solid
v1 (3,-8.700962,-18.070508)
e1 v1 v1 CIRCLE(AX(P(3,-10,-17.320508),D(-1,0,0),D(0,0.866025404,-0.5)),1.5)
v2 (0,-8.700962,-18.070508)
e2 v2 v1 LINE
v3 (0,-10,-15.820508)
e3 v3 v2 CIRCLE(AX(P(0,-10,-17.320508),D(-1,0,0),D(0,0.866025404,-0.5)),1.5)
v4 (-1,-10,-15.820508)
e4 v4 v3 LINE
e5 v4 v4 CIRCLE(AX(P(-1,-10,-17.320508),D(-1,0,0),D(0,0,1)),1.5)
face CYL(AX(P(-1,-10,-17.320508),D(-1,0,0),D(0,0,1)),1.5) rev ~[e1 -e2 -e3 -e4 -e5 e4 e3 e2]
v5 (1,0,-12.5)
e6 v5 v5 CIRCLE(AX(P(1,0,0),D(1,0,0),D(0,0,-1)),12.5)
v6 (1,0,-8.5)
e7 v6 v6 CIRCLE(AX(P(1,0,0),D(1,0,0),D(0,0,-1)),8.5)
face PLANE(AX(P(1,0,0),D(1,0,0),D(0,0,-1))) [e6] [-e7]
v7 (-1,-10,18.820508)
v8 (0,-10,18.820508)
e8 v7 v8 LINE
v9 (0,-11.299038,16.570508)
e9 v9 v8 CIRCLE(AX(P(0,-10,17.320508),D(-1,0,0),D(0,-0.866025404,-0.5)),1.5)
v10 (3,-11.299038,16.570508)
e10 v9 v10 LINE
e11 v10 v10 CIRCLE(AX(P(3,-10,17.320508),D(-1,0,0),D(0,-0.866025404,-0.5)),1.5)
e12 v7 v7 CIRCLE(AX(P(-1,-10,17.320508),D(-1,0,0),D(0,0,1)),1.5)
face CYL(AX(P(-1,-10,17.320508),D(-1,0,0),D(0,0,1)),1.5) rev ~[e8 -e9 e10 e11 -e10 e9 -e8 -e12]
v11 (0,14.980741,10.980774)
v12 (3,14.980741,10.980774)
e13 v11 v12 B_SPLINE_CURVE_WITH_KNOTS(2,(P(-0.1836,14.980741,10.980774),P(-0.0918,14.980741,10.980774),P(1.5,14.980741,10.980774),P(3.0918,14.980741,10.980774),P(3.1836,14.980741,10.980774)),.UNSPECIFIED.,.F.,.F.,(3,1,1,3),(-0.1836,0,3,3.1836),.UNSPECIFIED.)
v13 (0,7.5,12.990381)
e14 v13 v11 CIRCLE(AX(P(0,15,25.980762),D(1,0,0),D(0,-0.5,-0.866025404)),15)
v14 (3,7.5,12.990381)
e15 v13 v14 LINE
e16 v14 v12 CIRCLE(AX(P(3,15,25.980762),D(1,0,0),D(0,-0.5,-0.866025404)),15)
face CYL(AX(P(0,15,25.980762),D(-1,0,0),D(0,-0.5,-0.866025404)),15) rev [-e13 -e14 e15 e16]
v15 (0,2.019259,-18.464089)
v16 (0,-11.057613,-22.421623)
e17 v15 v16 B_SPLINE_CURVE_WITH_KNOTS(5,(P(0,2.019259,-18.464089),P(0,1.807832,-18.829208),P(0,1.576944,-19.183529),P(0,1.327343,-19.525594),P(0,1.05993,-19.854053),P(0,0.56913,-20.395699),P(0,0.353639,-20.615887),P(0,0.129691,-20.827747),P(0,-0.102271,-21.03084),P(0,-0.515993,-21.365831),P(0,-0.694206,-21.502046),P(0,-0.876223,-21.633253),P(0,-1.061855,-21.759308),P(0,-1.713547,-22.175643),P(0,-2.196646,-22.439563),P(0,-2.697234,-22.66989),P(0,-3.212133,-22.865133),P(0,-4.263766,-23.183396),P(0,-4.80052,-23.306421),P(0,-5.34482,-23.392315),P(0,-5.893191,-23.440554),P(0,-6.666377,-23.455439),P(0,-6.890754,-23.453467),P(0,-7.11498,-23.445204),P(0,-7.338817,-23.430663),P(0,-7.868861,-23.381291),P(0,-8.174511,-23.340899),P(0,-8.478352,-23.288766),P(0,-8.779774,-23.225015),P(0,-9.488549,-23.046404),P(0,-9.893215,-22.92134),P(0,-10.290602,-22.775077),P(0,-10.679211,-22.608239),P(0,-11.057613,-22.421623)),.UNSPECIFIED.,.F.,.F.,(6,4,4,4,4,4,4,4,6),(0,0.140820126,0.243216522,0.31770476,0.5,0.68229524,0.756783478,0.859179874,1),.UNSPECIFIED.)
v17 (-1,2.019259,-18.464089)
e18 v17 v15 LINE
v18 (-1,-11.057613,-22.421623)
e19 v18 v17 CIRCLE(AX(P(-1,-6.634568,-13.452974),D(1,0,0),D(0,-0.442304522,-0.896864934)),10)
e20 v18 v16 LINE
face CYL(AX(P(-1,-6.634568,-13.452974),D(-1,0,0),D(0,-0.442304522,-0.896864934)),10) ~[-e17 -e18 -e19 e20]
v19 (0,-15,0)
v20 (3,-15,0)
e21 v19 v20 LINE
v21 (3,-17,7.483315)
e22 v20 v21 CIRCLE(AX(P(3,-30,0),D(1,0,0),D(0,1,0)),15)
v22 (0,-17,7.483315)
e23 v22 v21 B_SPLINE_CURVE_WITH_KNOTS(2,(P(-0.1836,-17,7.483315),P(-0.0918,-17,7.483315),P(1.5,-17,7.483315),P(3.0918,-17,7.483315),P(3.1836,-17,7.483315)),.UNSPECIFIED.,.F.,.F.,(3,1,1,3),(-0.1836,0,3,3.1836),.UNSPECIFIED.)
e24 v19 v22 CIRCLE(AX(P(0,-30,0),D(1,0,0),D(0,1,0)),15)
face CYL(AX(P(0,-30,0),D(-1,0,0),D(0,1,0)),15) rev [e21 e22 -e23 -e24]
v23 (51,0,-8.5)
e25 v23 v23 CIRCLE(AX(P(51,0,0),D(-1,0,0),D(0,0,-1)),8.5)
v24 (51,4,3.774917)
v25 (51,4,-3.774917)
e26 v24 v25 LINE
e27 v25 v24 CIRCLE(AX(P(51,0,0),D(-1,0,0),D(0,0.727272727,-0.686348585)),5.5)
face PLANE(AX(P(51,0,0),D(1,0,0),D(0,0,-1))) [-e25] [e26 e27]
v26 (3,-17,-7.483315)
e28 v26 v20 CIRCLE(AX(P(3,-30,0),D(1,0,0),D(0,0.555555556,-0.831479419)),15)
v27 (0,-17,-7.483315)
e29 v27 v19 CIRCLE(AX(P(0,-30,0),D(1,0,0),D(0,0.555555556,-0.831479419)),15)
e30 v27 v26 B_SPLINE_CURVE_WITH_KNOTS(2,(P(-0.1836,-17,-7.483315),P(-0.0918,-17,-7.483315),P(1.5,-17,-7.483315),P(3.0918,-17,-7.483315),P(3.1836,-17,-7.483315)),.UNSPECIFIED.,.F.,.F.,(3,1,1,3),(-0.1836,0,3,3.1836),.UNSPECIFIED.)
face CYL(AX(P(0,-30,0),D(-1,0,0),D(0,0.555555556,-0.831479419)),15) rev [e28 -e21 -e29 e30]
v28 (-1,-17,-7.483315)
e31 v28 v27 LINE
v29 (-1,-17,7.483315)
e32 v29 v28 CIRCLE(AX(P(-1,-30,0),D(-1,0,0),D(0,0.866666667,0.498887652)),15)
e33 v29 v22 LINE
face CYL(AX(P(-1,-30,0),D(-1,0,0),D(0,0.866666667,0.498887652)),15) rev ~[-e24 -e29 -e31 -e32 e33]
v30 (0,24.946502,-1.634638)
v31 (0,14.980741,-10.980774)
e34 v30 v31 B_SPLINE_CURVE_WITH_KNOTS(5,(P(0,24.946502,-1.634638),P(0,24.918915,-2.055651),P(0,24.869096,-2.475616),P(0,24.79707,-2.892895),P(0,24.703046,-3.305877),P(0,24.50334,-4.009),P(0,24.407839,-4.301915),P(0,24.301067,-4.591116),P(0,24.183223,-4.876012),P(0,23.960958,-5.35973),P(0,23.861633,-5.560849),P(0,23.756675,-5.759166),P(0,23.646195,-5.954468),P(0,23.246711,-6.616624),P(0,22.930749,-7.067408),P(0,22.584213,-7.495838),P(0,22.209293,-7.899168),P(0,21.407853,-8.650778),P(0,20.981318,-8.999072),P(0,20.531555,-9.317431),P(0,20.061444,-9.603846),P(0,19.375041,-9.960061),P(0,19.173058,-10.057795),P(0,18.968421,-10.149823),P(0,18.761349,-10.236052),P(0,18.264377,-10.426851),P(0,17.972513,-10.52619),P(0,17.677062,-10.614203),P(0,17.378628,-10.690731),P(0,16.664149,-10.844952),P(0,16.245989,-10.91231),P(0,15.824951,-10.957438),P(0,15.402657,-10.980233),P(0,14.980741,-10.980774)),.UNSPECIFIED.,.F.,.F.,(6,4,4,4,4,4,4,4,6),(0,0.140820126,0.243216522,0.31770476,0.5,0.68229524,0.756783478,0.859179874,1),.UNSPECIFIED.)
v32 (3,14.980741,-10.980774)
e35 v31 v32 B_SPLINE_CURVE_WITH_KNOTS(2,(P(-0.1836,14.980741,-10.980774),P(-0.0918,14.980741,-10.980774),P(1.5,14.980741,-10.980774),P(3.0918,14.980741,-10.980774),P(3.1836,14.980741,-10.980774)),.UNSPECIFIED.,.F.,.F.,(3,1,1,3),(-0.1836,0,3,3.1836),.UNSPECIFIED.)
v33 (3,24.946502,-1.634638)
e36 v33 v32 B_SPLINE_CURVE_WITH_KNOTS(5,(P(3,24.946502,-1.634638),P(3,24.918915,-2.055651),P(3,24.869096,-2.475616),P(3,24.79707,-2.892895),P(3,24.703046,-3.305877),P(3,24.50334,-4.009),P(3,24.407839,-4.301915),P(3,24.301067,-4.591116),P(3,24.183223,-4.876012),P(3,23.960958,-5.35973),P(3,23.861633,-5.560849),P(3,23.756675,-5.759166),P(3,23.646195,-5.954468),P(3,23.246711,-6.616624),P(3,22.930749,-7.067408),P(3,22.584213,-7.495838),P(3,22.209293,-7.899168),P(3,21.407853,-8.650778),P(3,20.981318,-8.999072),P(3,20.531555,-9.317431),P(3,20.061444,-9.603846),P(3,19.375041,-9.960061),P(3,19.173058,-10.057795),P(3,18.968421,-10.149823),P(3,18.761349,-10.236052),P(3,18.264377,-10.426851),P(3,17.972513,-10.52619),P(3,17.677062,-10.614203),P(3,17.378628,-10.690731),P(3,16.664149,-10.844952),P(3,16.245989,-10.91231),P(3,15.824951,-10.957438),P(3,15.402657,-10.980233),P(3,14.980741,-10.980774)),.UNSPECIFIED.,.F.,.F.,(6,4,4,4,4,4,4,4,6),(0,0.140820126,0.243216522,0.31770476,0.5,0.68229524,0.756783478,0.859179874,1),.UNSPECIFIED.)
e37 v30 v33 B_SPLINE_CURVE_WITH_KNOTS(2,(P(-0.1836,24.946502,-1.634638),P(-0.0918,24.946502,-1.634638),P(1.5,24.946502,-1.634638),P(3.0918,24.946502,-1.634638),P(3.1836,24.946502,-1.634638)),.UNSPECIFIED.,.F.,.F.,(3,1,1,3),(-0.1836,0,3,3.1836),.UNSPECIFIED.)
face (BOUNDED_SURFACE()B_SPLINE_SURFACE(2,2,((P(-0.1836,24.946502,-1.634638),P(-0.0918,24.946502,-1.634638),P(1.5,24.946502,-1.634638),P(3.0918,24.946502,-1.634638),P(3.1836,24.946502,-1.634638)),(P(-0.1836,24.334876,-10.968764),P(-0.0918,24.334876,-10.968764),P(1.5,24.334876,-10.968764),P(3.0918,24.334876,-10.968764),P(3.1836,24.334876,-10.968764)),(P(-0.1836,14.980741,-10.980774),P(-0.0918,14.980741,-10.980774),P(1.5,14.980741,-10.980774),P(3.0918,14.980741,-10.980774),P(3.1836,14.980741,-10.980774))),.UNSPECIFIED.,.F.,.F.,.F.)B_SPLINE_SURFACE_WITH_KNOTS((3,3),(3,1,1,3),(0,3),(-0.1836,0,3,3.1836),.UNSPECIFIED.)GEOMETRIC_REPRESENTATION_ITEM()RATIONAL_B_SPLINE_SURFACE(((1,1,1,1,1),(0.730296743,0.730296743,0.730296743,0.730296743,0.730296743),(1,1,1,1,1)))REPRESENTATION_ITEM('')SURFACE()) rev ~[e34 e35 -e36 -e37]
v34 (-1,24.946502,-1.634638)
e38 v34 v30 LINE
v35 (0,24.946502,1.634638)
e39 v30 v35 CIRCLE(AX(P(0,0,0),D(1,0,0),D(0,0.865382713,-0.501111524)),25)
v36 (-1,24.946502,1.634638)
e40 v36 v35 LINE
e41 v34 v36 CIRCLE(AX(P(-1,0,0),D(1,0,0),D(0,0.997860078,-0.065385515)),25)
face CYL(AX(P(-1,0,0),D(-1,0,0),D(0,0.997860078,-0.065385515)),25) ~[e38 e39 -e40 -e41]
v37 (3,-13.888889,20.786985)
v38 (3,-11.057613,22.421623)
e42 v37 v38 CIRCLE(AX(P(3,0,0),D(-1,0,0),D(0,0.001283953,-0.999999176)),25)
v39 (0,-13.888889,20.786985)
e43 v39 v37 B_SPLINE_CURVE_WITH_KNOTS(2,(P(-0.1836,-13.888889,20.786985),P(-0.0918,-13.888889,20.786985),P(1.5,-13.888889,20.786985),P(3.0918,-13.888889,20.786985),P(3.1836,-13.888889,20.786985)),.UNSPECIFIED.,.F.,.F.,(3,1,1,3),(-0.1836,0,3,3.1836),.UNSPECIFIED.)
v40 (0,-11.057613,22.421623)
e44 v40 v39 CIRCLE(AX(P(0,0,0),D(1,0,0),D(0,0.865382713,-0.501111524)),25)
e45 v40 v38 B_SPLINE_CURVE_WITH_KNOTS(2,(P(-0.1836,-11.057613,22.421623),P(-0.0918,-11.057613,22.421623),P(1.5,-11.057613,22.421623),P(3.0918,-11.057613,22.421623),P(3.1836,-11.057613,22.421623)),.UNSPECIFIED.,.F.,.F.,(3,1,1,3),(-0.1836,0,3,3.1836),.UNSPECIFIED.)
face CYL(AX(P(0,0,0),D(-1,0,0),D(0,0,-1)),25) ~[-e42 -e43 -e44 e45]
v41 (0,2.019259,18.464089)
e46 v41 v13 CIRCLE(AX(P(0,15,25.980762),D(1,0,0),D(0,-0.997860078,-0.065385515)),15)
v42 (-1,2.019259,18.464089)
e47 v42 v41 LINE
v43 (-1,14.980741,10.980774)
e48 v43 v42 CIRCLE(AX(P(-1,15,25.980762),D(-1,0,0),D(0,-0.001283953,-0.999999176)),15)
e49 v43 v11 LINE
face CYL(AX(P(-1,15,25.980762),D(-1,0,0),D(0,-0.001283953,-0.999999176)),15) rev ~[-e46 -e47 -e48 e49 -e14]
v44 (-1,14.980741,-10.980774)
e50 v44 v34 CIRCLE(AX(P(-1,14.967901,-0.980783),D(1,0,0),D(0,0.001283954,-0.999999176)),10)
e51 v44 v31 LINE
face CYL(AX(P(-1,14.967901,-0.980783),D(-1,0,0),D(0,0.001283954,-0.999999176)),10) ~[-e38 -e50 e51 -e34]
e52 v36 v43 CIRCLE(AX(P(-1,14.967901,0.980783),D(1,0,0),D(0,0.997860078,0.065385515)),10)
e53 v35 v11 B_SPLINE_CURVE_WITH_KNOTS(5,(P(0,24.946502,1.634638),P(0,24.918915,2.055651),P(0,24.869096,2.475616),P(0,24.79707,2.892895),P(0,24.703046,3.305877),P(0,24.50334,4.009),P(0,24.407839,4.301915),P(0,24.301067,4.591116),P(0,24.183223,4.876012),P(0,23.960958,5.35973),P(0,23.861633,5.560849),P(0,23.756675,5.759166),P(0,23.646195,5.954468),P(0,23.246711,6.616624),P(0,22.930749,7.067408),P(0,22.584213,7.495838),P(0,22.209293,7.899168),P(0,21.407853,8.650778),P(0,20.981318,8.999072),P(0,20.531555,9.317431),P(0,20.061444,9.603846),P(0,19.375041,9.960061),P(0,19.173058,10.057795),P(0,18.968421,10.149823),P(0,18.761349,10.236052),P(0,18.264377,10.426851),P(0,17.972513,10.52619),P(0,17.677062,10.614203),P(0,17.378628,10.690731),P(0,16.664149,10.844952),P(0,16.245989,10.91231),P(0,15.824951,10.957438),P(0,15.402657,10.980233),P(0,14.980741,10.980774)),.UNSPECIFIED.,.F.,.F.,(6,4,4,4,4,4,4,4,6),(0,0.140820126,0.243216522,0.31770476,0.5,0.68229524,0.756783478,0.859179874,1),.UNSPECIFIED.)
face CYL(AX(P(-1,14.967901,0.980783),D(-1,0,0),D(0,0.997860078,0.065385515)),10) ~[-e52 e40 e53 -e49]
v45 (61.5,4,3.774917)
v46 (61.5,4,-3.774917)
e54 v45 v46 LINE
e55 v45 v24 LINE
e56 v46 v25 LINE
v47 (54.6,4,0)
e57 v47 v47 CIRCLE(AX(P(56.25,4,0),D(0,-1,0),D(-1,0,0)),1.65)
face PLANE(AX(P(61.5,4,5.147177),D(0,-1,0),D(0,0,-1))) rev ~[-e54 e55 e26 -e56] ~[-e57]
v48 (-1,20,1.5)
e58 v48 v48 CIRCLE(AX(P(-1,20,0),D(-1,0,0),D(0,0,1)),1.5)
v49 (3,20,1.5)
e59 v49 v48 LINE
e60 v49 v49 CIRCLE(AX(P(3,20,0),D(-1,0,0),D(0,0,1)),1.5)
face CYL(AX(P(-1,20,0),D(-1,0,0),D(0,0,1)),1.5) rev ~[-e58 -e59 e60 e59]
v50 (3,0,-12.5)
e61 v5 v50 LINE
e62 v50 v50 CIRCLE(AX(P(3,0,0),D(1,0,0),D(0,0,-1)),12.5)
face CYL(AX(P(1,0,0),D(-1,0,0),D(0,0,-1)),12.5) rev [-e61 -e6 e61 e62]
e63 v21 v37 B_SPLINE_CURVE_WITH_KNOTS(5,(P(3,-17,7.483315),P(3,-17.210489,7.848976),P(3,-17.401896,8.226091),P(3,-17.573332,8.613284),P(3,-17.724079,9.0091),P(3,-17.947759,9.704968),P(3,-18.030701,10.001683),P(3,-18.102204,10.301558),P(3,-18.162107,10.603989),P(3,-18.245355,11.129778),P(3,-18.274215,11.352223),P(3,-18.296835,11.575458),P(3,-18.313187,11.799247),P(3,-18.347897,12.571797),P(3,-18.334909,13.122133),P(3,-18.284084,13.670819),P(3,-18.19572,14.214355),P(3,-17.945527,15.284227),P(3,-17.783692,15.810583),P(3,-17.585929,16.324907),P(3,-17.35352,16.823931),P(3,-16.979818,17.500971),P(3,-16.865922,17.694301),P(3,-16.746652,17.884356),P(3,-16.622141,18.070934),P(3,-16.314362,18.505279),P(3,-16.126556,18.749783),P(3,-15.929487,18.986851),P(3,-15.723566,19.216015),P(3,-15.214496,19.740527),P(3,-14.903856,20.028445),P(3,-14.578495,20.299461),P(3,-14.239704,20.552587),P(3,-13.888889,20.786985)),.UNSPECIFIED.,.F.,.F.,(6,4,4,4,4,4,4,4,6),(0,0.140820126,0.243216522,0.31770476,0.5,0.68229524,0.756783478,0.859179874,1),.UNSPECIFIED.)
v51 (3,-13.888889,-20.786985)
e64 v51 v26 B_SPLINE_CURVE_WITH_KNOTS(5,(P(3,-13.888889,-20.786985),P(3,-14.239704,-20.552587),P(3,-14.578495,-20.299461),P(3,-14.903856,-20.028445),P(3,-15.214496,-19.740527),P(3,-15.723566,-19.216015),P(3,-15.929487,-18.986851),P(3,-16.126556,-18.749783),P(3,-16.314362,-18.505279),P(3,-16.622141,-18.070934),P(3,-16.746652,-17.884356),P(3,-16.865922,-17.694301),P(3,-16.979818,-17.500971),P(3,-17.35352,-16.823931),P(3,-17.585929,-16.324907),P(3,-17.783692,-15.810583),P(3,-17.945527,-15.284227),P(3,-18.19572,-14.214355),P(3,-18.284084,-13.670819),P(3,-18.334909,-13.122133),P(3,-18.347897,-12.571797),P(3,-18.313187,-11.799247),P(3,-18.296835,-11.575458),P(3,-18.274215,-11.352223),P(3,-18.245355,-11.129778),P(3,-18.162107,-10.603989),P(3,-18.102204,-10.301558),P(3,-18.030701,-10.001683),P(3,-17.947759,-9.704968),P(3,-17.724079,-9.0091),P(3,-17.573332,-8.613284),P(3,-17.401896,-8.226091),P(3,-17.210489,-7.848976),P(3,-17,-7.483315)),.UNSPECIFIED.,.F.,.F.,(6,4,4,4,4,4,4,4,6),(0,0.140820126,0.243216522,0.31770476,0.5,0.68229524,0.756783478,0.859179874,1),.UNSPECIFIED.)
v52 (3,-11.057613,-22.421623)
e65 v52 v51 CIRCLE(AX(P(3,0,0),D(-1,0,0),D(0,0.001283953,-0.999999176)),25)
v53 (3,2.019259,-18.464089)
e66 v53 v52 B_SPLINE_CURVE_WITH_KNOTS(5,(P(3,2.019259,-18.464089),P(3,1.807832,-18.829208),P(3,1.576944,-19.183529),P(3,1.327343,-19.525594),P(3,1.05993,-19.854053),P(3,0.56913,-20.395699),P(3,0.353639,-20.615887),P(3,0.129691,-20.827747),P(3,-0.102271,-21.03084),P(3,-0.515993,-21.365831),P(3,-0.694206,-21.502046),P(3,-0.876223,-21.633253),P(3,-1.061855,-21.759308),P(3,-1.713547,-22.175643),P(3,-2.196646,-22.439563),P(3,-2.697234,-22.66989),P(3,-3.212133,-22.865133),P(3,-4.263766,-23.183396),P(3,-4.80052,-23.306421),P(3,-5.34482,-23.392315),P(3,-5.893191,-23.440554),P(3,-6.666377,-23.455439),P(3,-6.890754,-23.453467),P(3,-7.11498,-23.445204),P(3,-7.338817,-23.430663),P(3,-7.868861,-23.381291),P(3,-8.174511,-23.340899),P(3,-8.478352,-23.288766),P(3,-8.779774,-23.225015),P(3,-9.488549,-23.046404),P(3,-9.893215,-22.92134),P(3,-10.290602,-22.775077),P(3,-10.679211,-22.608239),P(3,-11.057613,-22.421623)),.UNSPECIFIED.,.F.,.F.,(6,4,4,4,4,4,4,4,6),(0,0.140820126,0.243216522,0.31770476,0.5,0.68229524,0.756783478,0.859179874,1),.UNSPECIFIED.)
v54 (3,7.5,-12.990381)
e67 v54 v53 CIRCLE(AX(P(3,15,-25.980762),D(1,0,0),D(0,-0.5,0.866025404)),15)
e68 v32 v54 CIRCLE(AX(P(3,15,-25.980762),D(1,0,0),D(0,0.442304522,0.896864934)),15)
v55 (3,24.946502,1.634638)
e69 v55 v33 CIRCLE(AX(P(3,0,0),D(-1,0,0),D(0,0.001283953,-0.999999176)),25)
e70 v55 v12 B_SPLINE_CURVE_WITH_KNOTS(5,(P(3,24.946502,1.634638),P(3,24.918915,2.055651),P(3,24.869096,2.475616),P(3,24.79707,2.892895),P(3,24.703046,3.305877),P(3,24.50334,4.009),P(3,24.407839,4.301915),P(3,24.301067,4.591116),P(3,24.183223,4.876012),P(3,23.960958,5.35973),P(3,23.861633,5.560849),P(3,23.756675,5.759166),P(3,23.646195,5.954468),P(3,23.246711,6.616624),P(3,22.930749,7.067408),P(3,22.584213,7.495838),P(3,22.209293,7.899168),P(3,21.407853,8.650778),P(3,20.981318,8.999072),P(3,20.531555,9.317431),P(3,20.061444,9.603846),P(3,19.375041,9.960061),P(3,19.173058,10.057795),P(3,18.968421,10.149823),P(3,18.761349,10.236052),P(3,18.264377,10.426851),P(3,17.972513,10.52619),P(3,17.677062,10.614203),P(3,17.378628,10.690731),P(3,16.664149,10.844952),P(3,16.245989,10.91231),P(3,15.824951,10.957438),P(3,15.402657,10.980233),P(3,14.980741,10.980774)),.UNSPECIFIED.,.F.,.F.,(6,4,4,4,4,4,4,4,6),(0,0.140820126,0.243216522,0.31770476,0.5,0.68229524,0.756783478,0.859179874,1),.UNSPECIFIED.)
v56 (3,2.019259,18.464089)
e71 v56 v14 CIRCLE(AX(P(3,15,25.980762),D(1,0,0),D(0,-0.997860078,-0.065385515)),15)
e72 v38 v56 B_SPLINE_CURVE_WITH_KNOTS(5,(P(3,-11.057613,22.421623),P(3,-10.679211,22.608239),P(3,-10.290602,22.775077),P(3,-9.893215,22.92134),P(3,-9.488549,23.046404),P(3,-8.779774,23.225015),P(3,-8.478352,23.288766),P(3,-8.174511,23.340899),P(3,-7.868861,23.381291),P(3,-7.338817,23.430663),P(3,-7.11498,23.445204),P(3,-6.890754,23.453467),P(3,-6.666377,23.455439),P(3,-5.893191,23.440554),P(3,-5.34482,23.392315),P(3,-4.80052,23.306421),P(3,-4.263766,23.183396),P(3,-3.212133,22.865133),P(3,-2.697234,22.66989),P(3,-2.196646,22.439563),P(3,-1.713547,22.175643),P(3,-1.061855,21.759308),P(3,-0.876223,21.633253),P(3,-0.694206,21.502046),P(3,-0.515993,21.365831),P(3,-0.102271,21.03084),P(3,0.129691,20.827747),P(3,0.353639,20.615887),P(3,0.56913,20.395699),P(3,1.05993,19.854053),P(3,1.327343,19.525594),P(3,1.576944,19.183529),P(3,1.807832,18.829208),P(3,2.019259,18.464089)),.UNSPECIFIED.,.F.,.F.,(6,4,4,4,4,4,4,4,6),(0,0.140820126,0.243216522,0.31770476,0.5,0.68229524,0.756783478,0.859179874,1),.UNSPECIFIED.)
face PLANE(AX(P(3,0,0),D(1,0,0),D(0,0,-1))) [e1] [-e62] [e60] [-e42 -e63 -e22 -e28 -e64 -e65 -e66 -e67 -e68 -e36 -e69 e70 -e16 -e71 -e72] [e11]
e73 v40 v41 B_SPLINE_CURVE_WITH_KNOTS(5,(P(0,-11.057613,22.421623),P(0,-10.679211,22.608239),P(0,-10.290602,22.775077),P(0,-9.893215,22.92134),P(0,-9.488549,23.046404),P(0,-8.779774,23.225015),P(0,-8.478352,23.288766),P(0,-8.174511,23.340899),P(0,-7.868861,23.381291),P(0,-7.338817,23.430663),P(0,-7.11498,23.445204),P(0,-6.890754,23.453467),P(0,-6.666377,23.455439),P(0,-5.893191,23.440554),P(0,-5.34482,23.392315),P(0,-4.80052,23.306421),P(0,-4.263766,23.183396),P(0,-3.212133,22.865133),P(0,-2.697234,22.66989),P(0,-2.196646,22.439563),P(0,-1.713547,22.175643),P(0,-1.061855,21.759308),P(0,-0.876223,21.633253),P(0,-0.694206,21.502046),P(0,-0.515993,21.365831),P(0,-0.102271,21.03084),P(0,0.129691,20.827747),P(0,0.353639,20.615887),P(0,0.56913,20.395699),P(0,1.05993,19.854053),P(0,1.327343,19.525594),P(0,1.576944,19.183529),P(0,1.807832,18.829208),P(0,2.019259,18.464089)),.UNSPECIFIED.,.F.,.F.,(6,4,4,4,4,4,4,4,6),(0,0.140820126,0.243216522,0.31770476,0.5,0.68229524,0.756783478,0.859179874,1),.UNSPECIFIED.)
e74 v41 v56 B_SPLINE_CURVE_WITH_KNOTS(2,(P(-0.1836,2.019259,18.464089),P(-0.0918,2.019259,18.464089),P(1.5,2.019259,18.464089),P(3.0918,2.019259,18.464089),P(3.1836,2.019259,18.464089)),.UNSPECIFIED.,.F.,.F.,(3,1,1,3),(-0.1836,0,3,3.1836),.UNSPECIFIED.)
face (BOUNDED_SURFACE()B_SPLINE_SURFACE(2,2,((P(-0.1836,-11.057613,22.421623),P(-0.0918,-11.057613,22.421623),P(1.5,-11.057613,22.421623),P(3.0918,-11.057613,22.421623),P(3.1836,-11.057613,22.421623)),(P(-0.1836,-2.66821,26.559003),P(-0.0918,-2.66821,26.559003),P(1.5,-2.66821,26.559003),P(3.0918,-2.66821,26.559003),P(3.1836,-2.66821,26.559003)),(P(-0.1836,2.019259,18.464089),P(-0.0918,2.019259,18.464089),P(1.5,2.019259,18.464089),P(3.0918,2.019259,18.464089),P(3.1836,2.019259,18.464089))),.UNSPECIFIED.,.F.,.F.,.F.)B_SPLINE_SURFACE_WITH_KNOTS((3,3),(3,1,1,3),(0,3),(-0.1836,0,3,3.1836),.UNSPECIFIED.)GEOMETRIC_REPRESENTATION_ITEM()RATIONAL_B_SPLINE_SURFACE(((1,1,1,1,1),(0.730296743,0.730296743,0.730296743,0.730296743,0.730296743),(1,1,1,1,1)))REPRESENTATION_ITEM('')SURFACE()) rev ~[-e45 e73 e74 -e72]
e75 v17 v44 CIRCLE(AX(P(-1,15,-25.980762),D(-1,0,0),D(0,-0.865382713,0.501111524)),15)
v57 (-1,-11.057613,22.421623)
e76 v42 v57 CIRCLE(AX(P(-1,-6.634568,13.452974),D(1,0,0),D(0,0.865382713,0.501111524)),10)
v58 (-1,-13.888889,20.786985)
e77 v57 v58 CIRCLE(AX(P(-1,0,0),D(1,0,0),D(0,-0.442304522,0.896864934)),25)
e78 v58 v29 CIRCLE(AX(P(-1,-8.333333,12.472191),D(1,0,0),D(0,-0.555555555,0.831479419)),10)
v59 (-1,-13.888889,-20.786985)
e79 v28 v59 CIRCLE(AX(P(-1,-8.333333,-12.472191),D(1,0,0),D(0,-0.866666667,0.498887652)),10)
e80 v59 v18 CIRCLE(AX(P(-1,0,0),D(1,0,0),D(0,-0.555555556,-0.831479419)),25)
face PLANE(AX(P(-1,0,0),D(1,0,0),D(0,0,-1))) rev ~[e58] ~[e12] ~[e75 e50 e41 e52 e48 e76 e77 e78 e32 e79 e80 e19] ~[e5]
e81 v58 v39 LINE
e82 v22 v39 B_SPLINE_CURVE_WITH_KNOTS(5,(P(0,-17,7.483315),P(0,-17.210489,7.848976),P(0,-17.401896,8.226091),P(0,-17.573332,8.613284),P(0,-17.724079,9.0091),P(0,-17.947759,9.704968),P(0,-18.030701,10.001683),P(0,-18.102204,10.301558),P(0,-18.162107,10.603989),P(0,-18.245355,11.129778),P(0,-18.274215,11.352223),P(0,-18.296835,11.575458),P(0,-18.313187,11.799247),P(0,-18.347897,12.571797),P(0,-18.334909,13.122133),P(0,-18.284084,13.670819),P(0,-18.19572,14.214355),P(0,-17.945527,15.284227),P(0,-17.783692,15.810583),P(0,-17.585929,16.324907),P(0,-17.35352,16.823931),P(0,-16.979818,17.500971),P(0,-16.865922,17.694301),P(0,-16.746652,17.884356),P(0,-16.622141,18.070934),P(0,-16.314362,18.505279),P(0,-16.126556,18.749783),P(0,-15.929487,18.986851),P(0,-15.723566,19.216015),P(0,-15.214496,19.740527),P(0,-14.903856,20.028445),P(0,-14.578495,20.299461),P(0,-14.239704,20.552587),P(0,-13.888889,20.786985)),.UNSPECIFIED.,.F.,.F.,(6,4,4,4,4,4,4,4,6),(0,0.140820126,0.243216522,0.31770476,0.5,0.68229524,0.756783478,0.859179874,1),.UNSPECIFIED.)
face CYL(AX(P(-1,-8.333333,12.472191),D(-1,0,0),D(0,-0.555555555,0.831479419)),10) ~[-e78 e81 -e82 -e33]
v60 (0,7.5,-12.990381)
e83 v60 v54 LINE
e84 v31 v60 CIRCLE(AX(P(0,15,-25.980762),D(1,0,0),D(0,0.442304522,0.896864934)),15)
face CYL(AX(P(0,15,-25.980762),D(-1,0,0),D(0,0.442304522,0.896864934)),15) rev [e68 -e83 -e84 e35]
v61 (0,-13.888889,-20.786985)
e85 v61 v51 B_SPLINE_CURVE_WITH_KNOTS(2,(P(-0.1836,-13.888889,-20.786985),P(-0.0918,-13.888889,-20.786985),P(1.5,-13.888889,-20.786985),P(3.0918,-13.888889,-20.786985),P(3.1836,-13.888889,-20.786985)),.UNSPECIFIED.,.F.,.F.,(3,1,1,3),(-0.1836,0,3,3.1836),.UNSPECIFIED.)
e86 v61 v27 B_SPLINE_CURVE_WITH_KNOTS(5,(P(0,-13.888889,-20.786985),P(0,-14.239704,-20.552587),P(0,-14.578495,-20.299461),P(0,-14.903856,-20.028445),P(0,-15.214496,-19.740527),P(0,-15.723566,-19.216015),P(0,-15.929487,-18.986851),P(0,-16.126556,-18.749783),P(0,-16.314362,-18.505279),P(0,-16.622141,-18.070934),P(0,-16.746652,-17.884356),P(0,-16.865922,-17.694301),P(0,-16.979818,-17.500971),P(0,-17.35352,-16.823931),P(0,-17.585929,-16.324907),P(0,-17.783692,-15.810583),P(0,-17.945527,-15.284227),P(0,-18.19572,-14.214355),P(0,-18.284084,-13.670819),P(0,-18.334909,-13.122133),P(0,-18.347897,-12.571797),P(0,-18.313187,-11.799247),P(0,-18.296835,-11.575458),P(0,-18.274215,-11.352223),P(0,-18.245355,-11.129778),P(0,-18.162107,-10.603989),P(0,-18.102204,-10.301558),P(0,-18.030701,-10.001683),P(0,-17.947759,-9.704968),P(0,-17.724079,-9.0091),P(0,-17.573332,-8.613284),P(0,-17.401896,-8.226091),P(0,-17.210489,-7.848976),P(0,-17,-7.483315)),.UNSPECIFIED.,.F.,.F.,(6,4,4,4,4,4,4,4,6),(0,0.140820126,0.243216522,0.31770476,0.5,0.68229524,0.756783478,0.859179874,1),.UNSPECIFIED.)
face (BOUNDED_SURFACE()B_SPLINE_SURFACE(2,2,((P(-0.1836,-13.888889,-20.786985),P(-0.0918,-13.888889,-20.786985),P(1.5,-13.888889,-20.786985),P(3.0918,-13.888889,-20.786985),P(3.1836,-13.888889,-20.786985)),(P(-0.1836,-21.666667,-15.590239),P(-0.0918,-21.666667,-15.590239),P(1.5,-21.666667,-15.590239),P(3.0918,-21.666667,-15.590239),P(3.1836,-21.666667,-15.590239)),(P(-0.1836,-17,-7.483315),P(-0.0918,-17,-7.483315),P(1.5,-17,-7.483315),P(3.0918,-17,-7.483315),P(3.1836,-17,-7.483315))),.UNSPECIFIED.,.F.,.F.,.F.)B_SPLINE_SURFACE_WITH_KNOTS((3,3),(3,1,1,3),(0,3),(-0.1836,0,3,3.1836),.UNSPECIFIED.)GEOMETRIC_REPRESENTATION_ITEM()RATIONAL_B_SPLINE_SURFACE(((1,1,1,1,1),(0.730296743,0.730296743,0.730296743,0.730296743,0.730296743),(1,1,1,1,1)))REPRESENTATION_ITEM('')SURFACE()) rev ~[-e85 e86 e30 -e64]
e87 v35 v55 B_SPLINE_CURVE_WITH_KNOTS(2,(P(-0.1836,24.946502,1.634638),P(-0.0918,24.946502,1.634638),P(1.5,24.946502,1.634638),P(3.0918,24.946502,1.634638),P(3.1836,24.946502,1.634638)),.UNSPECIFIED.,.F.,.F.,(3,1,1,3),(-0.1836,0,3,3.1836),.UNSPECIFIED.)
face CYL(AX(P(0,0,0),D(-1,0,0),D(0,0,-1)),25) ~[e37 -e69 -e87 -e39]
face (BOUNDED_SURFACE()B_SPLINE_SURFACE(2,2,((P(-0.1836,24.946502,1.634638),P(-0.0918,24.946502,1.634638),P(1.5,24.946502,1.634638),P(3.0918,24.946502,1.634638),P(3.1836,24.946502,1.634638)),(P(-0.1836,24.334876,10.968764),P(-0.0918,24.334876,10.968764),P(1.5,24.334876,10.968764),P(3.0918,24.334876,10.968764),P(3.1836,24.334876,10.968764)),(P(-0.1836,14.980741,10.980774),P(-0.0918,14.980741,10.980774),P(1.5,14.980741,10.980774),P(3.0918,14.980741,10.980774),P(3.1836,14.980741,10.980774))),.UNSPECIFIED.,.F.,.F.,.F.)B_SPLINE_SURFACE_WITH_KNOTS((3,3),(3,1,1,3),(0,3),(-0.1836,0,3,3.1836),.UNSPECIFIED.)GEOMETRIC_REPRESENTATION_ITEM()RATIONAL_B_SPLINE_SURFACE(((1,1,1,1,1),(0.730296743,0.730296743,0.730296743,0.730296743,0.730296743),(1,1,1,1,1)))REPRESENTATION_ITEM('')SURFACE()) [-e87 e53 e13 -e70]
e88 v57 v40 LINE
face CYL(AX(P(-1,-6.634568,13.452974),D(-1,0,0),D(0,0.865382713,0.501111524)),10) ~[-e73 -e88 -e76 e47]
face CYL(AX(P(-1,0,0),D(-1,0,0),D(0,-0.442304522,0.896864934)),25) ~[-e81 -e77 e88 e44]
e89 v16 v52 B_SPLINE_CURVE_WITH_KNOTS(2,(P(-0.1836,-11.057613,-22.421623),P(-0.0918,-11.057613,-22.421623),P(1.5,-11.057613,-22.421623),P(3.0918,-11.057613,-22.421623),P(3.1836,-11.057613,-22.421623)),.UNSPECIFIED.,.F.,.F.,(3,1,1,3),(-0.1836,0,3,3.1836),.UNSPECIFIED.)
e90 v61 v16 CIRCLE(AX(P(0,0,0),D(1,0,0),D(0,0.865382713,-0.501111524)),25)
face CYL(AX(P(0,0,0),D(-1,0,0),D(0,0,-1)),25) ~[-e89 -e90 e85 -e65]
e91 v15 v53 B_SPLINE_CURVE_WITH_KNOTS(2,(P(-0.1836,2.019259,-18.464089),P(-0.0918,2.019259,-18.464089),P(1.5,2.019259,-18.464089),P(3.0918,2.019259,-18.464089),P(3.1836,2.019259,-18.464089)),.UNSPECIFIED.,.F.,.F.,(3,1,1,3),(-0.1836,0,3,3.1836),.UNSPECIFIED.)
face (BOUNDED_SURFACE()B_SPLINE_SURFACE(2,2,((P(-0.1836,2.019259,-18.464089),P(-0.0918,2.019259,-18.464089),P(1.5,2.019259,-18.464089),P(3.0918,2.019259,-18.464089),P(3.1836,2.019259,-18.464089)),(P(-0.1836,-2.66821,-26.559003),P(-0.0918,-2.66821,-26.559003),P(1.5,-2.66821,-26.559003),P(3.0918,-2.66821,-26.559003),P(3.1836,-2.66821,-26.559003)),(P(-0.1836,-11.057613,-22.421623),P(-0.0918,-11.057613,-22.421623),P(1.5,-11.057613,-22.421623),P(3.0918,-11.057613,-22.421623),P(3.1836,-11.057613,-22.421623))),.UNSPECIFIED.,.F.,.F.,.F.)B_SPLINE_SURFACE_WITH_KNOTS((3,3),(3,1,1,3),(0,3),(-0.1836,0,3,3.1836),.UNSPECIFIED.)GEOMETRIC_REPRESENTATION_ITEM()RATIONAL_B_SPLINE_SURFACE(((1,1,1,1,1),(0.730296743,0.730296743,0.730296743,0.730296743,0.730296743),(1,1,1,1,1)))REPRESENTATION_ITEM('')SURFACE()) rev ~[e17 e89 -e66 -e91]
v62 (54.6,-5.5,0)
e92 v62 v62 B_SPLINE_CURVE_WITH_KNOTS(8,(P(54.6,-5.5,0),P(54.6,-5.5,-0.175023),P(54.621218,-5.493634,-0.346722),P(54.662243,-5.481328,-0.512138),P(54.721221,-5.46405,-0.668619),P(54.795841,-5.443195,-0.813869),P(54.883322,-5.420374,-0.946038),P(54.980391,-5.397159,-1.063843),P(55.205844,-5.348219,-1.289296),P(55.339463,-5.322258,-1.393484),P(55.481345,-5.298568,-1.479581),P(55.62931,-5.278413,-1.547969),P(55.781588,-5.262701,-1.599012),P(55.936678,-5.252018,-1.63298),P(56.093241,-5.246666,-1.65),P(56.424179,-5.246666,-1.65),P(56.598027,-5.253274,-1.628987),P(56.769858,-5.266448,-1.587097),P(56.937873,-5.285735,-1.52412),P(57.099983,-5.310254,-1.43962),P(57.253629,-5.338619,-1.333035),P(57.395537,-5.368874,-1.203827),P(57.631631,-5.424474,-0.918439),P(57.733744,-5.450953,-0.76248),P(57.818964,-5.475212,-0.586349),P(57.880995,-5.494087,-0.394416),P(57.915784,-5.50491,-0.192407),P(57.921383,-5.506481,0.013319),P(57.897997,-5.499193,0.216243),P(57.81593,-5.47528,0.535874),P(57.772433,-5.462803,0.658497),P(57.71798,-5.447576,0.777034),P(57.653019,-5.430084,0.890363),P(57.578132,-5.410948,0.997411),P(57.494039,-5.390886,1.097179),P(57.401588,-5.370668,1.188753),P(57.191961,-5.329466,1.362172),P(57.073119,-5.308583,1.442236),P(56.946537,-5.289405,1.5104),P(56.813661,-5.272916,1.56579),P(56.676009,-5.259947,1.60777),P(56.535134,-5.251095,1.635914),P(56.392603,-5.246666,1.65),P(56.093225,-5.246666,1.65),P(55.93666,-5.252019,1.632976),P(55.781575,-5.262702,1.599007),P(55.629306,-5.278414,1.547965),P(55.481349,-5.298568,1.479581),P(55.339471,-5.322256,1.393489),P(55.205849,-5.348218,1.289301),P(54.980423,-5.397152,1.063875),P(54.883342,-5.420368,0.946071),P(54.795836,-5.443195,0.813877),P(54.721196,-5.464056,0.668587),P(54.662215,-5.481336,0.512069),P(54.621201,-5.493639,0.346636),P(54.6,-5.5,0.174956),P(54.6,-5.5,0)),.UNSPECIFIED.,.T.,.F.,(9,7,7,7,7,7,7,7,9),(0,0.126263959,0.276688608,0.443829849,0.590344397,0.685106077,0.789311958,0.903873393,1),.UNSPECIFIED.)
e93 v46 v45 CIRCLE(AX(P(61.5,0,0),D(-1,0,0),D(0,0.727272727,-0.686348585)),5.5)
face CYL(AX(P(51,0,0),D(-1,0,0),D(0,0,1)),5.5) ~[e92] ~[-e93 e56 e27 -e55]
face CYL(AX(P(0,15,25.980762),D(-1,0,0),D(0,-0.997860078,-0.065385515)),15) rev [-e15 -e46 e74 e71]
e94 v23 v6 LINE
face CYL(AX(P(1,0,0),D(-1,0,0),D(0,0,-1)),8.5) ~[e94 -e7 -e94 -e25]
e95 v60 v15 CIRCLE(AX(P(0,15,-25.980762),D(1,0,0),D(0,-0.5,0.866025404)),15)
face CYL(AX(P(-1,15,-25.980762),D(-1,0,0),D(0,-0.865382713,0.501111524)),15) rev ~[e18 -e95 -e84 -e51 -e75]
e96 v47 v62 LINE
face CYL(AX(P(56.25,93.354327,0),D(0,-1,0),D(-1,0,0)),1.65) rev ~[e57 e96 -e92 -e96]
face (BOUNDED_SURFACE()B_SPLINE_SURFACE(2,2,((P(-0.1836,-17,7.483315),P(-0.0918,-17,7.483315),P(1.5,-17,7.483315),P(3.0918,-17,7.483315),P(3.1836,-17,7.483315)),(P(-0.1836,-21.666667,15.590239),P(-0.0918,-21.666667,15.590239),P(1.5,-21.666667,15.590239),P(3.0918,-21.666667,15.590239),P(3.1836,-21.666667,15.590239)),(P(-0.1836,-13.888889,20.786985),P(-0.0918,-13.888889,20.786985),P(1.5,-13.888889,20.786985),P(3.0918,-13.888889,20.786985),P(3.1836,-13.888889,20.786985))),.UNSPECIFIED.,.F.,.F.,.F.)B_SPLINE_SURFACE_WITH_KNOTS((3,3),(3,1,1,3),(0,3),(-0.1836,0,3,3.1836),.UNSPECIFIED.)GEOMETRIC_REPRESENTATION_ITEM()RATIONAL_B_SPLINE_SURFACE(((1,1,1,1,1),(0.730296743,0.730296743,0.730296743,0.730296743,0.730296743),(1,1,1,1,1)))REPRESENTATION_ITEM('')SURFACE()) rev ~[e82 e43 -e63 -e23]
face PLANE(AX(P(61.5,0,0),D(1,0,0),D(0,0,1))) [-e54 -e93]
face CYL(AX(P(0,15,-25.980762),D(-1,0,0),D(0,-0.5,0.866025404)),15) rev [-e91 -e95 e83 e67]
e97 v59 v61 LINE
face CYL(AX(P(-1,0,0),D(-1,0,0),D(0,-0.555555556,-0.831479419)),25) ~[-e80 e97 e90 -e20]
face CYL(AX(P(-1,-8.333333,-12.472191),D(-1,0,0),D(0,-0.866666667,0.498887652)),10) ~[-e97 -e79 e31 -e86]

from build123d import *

# Parameters (mm, degrees)
SKETCH_1_R               = 25
EXTRUDE_1_DEPTH          = 3
CUT_EXTRUDE_START        = -3
CUT_EXTRUDE_1_DEPTH      = 3
PATTERN_CIRCULAR_1_COUNT = 3
FILLET_1_R               = 10
SKETCH_3_R               = 8.5
EXTRUDE_2_DEPTH          = 48
SKETCH_5_R               = 1.5
CUT_EXTRUDE_2_DEPTH      = 52
PATTERN_CIRCULAR_2_COUNT = 3
SKETCH_7_R               = 5.5
EXTRUDE_3_DEPTH          = 10.5
SKETCH_8_W               = 10.294353596
SKETCH_8_H               = 3.679030571
CUT_EXTRUDE_3_DEPTH      = 10.5
CUT_EXTRUDE_START_2      = -2
SKETCH_12_R              = 12.5
SKETCH_12_R_2            = 8.5
CUT_EXTRUDE_6_DEPTH      = 2
EXTRUDE_START            = 1
SKETCH_13_R              = 1.5
EXTRUDE_4_DEPTH          = 1
HOLE_WIZARD_M4_1_D       = 3.3


with BuildPart() as part:
    # 草图1 → 凸台-拉伸1 (new body)
    with BuildSketch(Plane(origin=(0, 0, 0), x_dir=(0, 0, -1), z_dir=(1, 0, 0))):
        Circle(SKETCH_1_R)
    extrude(amount=EXTRUDE_1_DEPTH)

    # 草图2 → 切除-拉伸1 (cut)
    with BuildSketch(Plane(origin=(3, 0, 0), x_dir=(0, 0, -1), z_dir=(1, 0, 0)).offset(CUT_EXTRUDE_START)):
        with BuildLine():
            ThreePointArc((24.999979393, 0.032098836), (24.143986785, 6.485977345), (21.650635095, 12.5))
            Line((21.650635095, 12.5), (12.990381057, 7.5))
            ThreePointArc((12.990381057, 7.5), (18.059856782, 2.261897365), (24.999979393, 0.032098836))
        make_face()
        with BuildLine():
            ThreePointArc((12.527788104, 21.634567831), (17.689014542, 17.666317232), (21.650635095, 12.5))
            ThreePointArc((21.650635095, 12.5), (24.143986785, 6.485977345), (24.999979393, 0.032098836))
            ThreePointArc((24.999979393, 0.032098836), (36.234743272, 4.052129412), (40.980762114, 15))
            ThreePointArc((40.980762114, 15), (29.387034993, 29.608124625), (12.527788104, 21.634567831))
        make_face()
        with BuildLine():
            Line((12.990381057, 7.5), (21.650635095, 12.5))
            ThreePointArc((21.650635095, 12.5), (17.689014542, 17.666317232), (12.527788104, 21.634567831))
            ThreePointArc((12.527788104, 21.634567831), (10.98878897, 14.509346079), (12.990381057, 7.5))
        make_face()
    cut_extrude_1 = extrude(amount=CUT_EXTRUDE_1_DEPTH, mode=Mode.SUBTRACT)

    # 阵列(圆周)1: 切除-拉伸1 ×3 about axis
    pattern_circular_1_axis = Axis((0, 0, 0), (1, 0, 0))
    for i in range(1, PATTERN_CIRCULAR_1_COUNT):
        add(cut_extrude_1.rotate(pattern_circular_1_axis, i * 360 / PATTERN_CIRCULAR_1_COUNT), mode=Mode.SUBTRACT)

    # 圆角1
    fillet_1_edges = [part.edges().sort_by_distance(p)[0] for p in [
        (1.5, 0.032098836, 24.999979393),
        (1.5, 21.634567831, 12.527788104),
        (1.5, -21.666666667, -12.472191289),
        (1.5, -21.666666667, 12.472191289),
        (1.5, 21.634567831, -12.527788104),
        (1.5, 0.032098836, -24.999979393),
    ]]
    fillet(fillet_1_edges, radius=FILLET_1_R)

    # 草图3 → 凸台-拉伸2 (add)
    with BuildSketch(Plane(origin=(3, 0, 0), x_dir=(0, 0, -1), z_dir=(1, 0, 0))):
        Circle(SKETCH_3_R)
    extrude(amount=EXTRUDE_2_DEPTH)

    # 草图5 → 切除-拉伸2 (cut)
    with BuildSketch(Plane.ZY):
        with Locations((0, 20)):
            Circle(SKETCH_5_R)
    cut_extrude_2 = extrude(amount=-CUT_EXTRUDE_2_DEPTH, mode=Mode.SUBTRACT)

    # 阵列(圆周)2: 切除-拉伸2 ×3 about axis
    pattern_circular_2_axis = Axis((0, 0, 0), (1, 0, 0))
    for i in range(1, PATTERN_CIRCULAR_2_COUNT):
        add(cut_extrude_2.rotate(pattern_circular_2_axis, i * 360 / PATTERN_CIRCULAR_2_COUNT), mode=Mode.SUBTRACT)

    # 草图7 → 凸台-拉伸3 (add)
    with BuildSketch(Plane(origin=(51, 0, 0), x_dir=(0, 0, -1), z_dir=(1, 0, 0))):
        with Locations(Location((0, 0, 0), (0, 0, 180))):
            Circle(SKETCH_7_R)
    extrude(amount=EXTRUDE_3_DEPTH)

    # 草图8 → 切除-拉伸3 (cut)
    with BuildSketch(Plane(origin=(61.5, 0, 0), x_dir=(0, 0, -1), z_dir=(1, 0, 0))):
        with Locations((0, 5.839515286)):
            Rectangle(SKETCH_8_W, SKETCH_8_H)
    extrude(amount=-CUT_EXTRUDE_3_DEPTH, mode=Mode.SUBTRACT)

    # 草图12 → 切除-拉伸6 (cut)
    with BuildSketch(Plane(origin=(3, 0, 0), x_dir=(0, 0, -1), z_dir=(1, 0, 0)).offset(CUT_EXTRUDE_START_2)):
        Circle(SKETCH_12_R)
        Circle(SKETCH_12_R_2, mode=Mode.SUBTRACT)
    extrude(amount=CUT_EXTRUDE_6_DEPTH, mode=Mode.SUBTRACT)

    # 草图13 → 凸台-拉伸4 (add)
    with BuildSketch(Plane.ZY.offset(EXTRUDE_START)):
        with BuildLine():
            ThreePointArc((-18.464089251, 2.019259302), (-12.990381057, 7.5), (-10.980774478, 14.980740698))
            ThreePointArc((-10.980774478, 14.980740698), (-8.274973062, 21.808572714), (-1.634637867, 24.94650194))
            ThreePointArc((-1.634637867, 24.94650194), (0, 25), (1.634637867, 24.94650194))
            ThreePointArc((1.634637867, 24.94650194), (8.274973062, 21.808572714), (10.980774478, 14.980740698))
            ThreePointArc((10.980774478, 14.980740698), (12.990381057, 7.5), (18.464089251, 2.019259302))
            ThreePointArc((18.464089251, 2.019259302), (23.024264522, -3.737949469), (22.421623349, -11.057613051))
            ThreePointArc((22.421623349, -11.057613051), (21.650635095, -12.5), (20.786985482, -13.888888889))
            ThreePointArc((20.786985482, -13.888888889), (14.749291459, -18.070623245), (7.483314774, -17))
            ThreePointArc((7.483314774, -17), (0, -15), (-7.483314774, -17))
            ThreePointArc((-7.483314774, -17), (-14.749291459, -18.070623245), (-20.786985482, -13.888888889))
            ThreePointArc((-20.786985482, -13.888888889), (-21.650635095, -12.5), (-22.421623349, -11.057613051))
            ThreePointArc((-22.421623349, -11.057613051), (-23.024264522, -3.737949469), (-18.464089251, 2.019259302))
        make_face()
        with Locations((0, 20)):
            Circle(SKETCH_13_R, mode=Mode.SUBTRACT)
        with Locations((-17.320508076, -10)):
            Circle(SKETCH_13_R, mode=Mode.SUBTRACT)
        with Locations((17.320508076, -10)):
            Circle(SKETCH_13_R, mode=Mode.SUBTRACT)
    extrude(amount=-EXTRUDE_4_DEPTH)

    # M4 螺纹孔1 (through all)
    with Locations(Plane(origin=(0, 4, 0), x_dir=(1, 0, 0), z_dir=(0, 1, 0))):
        with Locations((56.25, 0)):
            Hole(HOLE_WIZARD_M4_1_D / 2)


solid = part.part
